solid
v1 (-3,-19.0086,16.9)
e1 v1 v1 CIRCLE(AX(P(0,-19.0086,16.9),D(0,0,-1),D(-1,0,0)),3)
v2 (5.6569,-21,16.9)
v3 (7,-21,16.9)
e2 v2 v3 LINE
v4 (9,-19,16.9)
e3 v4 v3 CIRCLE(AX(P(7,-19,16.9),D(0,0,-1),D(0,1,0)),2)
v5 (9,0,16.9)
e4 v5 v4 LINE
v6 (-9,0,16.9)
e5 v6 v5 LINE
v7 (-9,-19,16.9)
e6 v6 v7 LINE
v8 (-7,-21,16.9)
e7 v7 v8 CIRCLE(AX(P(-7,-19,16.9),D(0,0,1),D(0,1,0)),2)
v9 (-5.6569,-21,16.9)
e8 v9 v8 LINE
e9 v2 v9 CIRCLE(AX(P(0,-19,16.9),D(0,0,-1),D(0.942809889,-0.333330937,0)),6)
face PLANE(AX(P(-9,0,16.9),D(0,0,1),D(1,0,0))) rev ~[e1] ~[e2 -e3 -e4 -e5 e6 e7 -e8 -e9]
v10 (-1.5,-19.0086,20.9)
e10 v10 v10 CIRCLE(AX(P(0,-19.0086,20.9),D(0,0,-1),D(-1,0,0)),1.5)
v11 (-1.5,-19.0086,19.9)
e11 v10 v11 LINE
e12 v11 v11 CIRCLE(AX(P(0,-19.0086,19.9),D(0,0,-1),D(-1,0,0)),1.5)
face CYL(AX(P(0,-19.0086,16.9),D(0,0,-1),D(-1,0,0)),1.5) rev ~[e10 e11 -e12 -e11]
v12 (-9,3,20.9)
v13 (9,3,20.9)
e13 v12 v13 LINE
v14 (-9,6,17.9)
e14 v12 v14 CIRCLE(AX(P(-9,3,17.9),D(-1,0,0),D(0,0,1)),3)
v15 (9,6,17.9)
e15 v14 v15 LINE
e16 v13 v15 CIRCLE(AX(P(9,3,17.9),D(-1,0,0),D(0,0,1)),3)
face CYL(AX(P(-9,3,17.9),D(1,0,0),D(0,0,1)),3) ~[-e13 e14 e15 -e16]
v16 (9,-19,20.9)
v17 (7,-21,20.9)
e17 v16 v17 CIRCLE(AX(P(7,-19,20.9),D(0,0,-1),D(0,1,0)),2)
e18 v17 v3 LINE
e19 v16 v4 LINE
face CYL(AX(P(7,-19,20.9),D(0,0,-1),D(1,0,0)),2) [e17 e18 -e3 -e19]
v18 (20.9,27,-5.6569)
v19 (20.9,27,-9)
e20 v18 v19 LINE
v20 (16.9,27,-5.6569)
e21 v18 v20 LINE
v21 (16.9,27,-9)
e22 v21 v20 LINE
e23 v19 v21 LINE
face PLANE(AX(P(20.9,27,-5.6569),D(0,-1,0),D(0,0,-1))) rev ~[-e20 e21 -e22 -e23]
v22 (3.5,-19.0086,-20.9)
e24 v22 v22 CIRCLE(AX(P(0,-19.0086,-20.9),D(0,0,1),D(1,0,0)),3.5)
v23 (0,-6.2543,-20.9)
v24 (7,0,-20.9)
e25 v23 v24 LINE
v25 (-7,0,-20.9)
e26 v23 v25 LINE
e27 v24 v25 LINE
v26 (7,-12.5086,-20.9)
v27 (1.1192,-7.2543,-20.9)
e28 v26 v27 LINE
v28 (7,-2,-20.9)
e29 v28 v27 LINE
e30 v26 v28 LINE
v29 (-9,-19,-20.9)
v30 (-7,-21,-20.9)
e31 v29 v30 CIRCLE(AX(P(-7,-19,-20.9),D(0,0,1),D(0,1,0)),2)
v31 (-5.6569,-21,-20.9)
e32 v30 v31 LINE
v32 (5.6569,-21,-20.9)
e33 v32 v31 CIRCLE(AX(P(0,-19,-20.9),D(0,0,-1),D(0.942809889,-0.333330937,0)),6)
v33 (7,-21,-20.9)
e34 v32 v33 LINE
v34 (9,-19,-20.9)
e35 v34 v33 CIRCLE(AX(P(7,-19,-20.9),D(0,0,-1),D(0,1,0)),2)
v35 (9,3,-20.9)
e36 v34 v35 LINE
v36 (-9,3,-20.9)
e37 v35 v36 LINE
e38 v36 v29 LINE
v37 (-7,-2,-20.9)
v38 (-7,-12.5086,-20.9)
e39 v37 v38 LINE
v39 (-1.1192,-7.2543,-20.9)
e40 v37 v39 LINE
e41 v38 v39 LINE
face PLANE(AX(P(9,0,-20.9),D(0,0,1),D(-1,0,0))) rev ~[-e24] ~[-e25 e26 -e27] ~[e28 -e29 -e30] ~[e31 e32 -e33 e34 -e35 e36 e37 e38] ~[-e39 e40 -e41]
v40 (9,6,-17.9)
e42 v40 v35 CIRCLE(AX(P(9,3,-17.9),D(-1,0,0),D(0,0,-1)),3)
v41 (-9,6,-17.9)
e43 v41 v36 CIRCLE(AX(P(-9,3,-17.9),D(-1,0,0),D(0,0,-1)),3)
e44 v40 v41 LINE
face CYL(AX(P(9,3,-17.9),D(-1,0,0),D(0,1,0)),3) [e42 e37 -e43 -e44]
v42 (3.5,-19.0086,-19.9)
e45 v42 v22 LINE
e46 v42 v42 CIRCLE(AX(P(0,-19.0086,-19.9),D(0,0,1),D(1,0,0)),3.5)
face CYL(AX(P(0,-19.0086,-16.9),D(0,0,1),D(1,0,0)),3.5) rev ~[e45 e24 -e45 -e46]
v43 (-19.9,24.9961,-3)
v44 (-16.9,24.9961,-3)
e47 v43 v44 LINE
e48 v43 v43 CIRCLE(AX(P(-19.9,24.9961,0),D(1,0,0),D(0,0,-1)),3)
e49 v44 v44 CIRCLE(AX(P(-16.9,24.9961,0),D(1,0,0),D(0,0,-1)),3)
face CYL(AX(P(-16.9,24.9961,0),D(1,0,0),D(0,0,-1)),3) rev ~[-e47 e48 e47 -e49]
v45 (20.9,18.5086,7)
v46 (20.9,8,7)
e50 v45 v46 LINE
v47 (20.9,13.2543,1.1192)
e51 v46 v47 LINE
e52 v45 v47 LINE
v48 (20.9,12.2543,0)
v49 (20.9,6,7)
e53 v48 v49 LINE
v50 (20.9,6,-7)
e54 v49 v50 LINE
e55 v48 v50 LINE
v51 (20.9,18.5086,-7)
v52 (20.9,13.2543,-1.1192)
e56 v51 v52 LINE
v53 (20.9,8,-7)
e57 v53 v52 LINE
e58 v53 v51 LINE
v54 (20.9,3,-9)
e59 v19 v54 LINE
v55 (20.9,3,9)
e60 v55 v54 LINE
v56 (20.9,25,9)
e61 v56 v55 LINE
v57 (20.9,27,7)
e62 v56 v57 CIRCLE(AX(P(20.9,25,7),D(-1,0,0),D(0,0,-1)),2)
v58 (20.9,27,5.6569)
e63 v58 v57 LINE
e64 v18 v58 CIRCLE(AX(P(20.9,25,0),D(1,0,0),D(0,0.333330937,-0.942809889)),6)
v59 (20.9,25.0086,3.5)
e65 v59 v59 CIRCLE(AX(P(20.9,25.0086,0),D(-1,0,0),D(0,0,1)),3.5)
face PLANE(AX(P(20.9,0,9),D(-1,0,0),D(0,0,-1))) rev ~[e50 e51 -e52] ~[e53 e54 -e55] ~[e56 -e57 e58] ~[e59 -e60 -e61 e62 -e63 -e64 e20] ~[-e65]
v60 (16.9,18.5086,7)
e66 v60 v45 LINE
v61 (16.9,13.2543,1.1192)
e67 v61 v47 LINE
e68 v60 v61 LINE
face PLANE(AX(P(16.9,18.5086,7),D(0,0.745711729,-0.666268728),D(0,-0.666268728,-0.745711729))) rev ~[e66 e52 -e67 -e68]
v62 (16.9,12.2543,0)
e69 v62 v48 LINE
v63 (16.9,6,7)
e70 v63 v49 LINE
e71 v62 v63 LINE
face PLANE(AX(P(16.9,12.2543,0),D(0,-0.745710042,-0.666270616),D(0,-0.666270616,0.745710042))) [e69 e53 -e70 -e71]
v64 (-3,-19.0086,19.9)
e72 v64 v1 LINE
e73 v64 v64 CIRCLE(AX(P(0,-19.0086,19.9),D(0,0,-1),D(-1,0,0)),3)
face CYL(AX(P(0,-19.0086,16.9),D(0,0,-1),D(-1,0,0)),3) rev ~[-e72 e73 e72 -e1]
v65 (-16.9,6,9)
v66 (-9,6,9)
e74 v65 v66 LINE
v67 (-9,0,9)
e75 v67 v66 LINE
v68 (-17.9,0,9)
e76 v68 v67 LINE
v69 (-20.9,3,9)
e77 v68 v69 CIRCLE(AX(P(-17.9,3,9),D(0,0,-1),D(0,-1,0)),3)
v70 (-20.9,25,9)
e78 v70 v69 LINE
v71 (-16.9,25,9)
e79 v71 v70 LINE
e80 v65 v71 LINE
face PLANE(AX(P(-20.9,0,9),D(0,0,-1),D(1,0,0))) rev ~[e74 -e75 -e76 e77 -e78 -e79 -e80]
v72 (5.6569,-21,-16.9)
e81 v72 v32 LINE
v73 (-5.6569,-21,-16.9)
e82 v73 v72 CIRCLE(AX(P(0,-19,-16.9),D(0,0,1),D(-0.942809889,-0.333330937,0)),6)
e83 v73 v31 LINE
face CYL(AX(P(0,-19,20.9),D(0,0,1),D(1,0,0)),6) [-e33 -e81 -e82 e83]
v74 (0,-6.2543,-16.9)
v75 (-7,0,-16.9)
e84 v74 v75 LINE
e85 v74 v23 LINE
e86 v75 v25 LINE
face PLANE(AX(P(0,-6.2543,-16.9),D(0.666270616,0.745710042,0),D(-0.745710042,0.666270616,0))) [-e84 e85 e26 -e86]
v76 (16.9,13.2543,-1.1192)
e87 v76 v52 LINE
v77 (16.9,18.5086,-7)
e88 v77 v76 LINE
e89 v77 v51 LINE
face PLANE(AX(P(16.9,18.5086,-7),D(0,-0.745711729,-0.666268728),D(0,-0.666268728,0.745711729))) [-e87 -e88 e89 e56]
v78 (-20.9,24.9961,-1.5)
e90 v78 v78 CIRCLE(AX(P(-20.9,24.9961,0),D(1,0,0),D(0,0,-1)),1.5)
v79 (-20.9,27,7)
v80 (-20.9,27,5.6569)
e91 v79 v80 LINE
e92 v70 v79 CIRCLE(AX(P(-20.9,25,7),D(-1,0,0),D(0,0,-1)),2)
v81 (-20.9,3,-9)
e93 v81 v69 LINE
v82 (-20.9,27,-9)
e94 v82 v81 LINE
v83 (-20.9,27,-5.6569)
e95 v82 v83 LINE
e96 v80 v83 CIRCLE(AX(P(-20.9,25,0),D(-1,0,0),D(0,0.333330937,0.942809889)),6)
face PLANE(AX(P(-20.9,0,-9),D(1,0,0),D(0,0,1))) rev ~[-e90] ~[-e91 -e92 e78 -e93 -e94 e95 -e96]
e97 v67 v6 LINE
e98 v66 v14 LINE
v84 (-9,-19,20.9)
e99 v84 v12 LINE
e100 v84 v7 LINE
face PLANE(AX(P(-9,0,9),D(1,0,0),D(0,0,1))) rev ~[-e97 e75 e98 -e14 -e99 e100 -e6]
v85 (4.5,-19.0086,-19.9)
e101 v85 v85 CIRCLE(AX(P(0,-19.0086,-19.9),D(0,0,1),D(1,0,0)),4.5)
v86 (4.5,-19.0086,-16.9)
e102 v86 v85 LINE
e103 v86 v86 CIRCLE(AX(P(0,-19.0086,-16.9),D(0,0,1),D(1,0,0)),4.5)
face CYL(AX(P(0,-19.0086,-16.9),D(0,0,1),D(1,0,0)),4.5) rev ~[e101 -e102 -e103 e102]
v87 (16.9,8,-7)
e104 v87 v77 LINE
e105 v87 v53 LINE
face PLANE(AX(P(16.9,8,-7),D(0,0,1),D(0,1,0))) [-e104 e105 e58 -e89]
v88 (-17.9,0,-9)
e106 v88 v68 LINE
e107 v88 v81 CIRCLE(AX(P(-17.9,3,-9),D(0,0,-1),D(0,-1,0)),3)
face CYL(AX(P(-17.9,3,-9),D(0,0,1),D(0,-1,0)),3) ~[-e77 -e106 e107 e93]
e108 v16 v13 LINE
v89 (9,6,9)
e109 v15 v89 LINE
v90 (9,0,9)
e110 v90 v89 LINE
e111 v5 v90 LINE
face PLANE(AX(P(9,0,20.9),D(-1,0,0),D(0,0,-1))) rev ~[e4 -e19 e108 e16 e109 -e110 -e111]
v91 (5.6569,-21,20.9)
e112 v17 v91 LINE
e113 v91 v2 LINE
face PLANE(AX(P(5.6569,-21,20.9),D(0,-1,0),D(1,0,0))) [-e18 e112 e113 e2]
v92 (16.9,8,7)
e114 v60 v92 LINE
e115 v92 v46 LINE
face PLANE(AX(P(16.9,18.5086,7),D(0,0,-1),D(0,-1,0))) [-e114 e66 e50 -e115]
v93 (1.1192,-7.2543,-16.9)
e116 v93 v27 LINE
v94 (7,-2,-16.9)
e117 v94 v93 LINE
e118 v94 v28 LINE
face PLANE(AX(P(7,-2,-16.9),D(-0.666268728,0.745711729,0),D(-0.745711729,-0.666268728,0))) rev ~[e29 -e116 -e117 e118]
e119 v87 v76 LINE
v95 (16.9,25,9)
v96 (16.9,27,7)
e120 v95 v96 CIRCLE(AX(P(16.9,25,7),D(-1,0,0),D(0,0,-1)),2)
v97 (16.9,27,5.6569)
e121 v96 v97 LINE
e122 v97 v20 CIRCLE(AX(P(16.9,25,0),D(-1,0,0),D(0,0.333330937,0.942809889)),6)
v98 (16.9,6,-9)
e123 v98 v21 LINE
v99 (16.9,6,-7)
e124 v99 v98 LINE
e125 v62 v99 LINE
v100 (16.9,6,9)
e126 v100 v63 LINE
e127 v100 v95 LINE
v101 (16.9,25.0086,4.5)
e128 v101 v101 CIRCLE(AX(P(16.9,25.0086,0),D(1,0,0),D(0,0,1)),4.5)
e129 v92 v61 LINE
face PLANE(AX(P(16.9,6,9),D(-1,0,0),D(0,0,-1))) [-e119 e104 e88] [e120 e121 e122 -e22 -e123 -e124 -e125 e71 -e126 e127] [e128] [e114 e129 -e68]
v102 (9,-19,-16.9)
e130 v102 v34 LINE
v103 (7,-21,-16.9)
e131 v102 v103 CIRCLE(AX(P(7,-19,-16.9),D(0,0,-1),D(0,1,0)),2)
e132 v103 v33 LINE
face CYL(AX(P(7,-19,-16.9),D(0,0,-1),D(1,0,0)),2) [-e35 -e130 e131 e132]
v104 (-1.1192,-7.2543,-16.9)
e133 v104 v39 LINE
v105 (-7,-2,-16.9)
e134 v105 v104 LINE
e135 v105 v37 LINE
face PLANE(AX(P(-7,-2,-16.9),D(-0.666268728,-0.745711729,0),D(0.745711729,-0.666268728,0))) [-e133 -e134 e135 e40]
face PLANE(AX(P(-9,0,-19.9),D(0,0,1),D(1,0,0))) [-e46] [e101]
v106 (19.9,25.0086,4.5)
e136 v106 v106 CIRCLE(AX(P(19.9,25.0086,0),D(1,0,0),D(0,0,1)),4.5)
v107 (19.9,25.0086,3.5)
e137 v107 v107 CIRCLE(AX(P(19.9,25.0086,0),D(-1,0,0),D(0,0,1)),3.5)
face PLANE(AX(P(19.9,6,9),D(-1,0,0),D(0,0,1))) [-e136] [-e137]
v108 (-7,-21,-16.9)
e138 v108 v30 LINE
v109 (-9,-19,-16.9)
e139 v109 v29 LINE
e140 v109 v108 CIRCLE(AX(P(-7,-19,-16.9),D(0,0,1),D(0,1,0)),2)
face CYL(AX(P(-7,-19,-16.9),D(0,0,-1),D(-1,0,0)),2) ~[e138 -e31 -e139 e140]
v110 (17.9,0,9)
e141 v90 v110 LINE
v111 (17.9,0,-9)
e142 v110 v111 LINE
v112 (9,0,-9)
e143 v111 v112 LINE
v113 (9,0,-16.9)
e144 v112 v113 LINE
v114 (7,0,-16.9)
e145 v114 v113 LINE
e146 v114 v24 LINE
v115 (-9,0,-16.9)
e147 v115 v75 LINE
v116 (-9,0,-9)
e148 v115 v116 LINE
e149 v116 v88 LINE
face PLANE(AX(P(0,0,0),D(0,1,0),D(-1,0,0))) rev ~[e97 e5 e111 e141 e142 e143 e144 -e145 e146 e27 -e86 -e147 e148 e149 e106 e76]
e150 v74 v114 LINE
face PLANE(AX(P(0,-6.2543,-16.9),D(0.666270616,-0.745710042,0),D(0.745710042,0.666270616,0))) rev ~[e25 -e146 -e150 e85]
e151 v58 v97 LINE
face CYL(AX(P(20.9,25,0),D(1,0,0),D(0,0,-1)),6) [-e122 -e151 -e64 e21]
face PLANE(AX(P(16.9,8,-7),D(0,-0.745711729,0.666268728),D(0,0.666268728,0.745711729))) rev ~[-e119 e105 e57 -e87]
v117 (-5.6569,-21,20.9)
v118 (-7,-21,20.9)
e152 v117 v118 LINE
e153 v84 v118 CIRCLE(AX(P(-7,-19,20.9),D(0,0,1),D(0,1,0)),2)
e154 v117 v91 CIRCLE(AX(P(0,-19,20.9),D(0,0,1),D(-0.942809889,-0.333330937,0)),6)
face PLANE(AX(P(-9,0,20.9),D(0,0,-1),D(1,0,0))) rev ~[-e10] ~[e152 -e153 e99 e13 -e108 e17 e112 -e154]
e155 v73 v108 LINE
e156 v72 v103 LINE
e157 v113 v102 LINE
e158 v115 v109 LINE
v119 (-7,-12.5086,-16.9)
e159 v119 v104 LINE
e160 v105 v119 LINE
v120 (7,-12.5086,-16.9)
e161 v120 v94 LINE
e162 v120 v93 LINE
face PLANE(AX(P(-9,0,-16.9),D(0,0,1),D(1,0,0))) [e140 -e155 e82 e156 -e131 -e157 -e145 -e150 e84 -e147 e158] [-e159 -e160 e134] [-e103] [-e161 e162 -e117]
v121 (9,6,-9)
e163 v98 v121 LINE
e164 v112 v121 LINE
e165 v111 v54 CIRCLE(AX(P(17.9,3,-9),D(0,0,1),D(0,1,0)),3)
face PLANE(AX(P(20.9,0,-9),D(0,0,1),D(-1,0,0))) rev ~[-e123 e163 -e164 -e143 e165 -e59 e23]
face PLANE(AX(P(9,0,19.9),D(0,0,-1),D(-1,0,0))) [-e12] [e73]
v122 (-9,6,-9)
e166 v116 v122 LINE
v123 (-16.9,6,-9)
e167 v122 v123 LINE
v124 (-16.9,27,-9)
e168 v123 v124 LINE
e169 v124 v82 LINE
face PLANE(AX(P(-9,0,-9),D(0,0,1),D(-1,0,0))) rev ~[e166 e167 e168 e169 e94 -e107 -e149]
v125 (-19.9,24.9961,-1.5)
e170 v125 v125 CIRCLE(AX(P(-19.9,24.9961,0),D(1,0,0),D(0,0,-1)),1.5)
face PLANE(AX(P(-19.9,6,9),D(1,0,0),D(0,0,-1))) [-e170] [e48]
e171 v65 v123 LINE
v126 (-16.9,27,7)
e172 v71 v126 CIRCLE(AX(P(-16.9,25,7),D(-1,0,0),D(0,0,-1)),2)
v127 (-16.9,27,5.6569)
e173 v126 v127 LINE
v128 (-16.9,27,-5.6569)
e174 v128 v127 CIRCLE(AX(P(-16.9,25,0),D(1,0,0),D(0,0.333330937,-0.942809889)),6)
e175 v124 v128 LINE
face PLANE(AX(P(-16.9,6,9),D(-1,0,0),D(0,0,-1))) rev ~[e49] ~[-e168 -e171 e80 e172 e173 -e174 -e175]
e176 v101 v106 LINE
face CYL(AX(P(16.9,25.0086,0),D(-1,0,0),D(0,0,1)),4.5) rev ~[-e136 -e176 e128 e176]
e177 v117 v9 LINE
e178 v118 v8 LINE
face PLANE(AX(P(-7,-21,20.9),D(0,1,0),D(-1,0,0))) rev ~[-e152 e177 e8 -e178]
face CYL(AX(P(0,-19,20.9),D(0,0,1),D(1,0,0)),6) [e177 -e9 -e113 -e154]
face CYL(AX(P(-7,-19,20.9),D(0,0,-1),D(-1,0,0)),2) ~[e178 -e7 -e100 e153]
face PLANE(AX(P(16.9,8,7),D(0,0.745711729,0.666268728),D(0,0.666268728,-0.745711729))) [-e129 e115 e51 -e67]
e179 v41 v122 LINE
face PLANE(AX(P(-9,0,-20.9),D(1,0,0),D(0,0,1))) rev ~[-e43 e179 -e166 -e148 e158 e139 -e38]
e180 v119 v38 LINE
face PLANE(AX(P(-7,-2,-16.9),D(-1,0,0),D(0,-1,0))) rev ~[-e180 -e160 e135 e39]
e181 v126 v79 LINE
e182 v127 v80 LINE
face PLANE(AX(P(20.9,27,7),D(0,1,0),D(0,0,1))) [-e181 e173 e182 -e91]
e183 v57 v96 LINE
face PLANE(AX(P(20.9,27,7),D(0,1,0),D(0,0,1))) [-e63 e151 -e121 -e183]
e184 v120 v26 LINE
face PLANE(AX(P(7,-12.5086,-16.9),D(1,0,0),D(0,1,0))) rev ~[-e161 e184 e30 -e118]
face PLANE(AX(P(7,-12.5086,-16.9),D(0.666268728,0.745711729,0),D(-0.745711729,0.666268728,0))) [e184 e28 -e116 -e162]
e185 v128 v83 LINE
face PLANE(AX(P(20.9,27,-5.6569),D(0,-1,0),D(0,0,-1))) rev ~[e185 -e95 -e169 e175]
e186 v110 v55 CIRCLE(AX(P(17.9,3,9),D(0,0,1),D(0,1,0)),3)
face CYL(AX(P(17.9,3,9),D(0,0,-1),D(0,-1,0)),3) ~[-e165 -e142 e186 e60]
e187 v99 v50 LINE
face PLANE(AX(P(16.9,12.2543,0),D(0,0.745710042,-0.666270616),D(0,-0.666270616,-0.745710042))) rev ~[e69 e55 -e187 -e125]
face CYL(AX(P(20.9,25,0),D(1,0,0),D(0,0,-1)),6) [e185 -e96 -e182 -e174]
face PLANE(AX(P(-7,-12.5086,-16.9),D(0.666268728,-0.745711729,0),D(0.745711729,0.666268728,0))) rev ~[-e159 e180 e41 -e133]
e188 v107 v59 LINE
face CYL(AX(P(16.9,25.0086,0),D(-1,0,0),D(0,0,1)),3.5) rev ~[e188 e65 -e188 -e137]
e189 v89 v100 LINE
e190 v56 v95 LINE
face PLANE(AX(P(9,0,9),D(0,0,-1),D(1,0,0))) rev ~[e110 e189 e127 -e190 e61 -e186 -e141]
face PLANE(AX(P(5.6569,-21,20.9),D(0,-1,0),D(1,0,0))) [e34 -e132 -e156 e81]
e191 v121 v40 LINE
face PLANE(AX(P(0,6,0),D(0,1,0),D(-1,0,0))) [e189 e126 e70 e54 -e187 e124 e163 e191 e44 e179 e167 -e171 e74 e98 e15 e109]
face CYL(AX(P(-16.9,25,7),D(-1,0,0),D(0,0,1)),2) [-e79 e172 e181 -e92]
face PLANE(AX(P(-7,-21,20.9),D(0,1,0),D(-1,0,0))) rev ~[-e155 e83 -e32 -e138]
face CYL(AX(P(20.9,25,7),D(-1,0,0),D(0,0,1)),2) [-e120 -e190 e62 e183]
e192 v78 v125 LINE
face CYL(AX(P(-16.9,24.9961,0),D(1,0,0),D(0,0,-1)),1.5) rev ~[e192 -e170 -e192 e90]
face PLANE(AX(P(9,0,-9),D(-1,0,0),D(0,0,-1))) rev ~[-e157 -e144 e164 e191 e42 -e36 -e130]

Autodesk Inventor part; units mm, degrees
ref_plane "YZ Plane" through (0, 0, 0) normal (1, 0, 0) x (0, 1, 0)
ref_plane "XZ Plane" through (0, 0, 0) normal (0, 1, 0) x (-1, 0, 0)
ref_plane "XY Plane" through (0, 0, 0) normal (0, 0, 1) x (1, 0, 0)
sketch "スケッチ1" plane through (0, 0, 0) normal (0, 1, 0) x (-1, 0, 0)
  line L0 (9, 20.9) -> (-9, 20.9)
  line L1 (-9, -20.9) -> (9, -20.9)
  line L2 (9, 20.9) -> (-9, -20.9) construction
  line L3 (-9, 20.9) -> (9, -20.9) construction
  line L4 (-20.9, 9) -> (-20.9, -9)
  line L5 (20.9, -9) -> (20.9, 9)
  line L6 (20.9, 9) -> (-20.9, -9) construction
  line L7 (-20.9, 9) -> (20.9, -9) construction
  line L8 (20.9, 9) -> (9, 9)
  line L9 (-9, 9) -> (-20.9, 9)
  line L10 (9, 9) -> (9, 20.9)
  line L11 (-9, 20.9) -> (-9, 9)
  line L12 (-9, -9) -> (-9, -20.9)
  line L13 (-20.9, -9) -> (-9, -9)
  line L14 (9, -9) -> (20.9, -9)
  line L15 (9, -20.9) -> (9, -9)
  point P0 (0, 0)
  dimension "d0" = 18
  dimension "d1" = 41.8
  dimension "d2" = 41.8
  dimension "d3" = 18
extrude "押し出し1" add sketch "スケッチ1" along normal blind 6
sketch "スケッチ2" plane through (0, 6, 0) normal (0, 1, 0) x (1, 0, 0)
  line L0 (-20.9, -9) -> (-9, -9) projected
  line L1 (-9, 9) -> (-20.9, 9) projected
  line L2 (-20.9, -9) -> (-16.9, -9)
  line L3 (-16.9, -9) -> (-16.9, 9)
  line L4 (-16.9, 9) -> (-20.9, 9)
  line L5 (-20.9, 9) -> (-20.9, -9)
  line L6 (20.9, -9) -> (20.9, 9) projected
  line L7 (20.9, 9) -> (9, 9) projected
  line L8 (20.9, -9) -> (16.9, -9)
  line L9 (16.9, -9) -> (16.9, 9)
  line L10 (16.9, 9) -> (20.9, 9)
  line L11 (20.9, 9) -> (20.9, -9)
  point P0 (0, 0)
  dimension "d6" = 4
  dimension "d7" = 4
extrude "押し出し2" add sketch "スケッチ2" along normal blind 25
sketch "スケッチ3" plane through (0, 0, 0) normal (0, -1, 0) x (1, 0, 0)
  line L0 (-9, 20.9) -> (9, 20.9) projected
  line L1 (-9, 9) -> (-9, 20.9) projected
  line L2 (9, 20.9) -> (-9, 20.9)
  line L3 (-9, 20.9) -> (-9, 16.9)
  line L4 (-9, 16.9) -> (9, 16.9)
  line L5 (9, 16.9) -> (9, 20.9)
  line L6 (9, -9) -> (9, -20.9) projected
  line L7 (-9, -20.9) -> (-9, -9) projected
  line L8 (9, -20.9) -> (-9, -20.9)
  line L9 (-9, -20.9) -> (-9, -16.9)
  line L10 (-9, -16.9) -> (9, -16.9)
  line L11 (9, -16.9) -> (9, -20.9)
  point P0 (0, 0)
  dimension "d10" = 4
  dimension "d11" = 4
extrude "押し出し3" add sketch "スケッチ3" along normal blind 25
sketch "スケッチ4" plane through (20.9, 0, 9) normal (1, 0, 0) x (0, 0, -1)
  line L0 (9, 0) -> (9, 25) construction
  line L1 (9, 25) -> (15, 25) construction
  line L2 (9, 25) -> (0, 25) construction
  line L3 (0, 6) -> (0, 31) construction
  line L4 (0, 25) -> (2, 25) construction
  line L5 (9, 25) -> (18, 25) construction
  line L6 (18, 0) -> (18, 31) construction
  line L7 (18, 25) -> (16, 25) construction
  line L8 (2, 25) -> (0, 25) construction
  line L9 (18, 31) -> (0, 31) construction
  line L10 (9, 25) -> (9, 31) construction
  line L11 (0, 31) -> (18, 31) construction
  line L12 (0, 6) -> (0, 31) construction
  line L13 (0, 25) -> (0, 31) construction
  line L14 (18, 31) -> (0, 31) construction
  line L15 (0, 31) -> (18, 31) construction
  line L16 (18, 31) -> (18, 25) construction
  line L17 (0, 0) -> (0, 31) projected
  line L18 (0, 25) -> (0, 31)
  line L19 (0, 31) -> (18, 31)
  line L20 (18, 25) -> (18, 31)
  circle A0 centre (9, 25) radius 6
  line L21 (2, 27) -> (0, 27)
  line L22 (16, 27) -> (18, 27)
  line L23 (18, 6) -> (18, 31) projected
  line L24 (2, 27) -> (3.3431, 27)
  line L25 (14.6569, 27) -> (16, 27)
  circle A1 centre (9, 25) radius 1.5
  circle A2 centre (9, 25) radius 3
  dimension "d14" = 25
  dimension "d20" = 2
  dimension "d21" = 2
  dimension "d22" = 6
  dimension "d24" = 12
  dimension "d35" = 3
  dimension "d36" = 6
extrude "押し出し4" cut sketch "スケッチ4" against normal blind 41.8 contours L17 L19 A0 L24 L21 | L19 L20 L22 L25 A0
sketch "スケッチ5" plane through (-9, 6, 20.9) normal (0, 0, 1) x (1, 0, 0)
  line L0 (18, -31) -> (18, 0) projected
  line L1 (0, 0) -> (18, 0) projected
  line L2 (18, 0) -> (0, 0)
  line L3 (9, 0) -> (9, -25) construction
  line L4 (9, -25) -> (15, -25) construction
  line L5 (9, -25) -> (0, -25) construction
  line L6 (0, -6) -> (0, -31) construction
  line L7 (0, -25) -> (2, -25) construction
  line L8 (9, -25) -> (18, -25) construction
  line L9 (18, 0) -> (18, -31) construction
  line L10 (18, -25) -> (16, -25) construction
  line L11 (2, -25) -> (0, -25) construction
  line L12 (18, -31) -> (0, -31) construction
  line L13 (9, -25) -> (9, -31) construction
  line L14 (0, -31) -> (18, -31) construction
  line L15 (0, -6) -> (0, -31) construction
  line L16 (0, -25) -> (0, -31) construction
  line L17 (18, -31) -> (0, -31) construction
  line L18 (0, -31) -> (18, -31) construction
  line L19 (18, -31) -> (18, -25) construction
  line L20 (0, 0) -> (0, -31)
  line L21 (0, -25) -> (0, -31)
  line L22 (0, -31) -> (18, -31)
  line L23 (18, -25) -> (18, -31)
  circle A0 centre (9, -25) radius 6
  line L24 (2, -27) -> (0, -27)
  line L25 (16, -27) -> (18, -27)
  line L26 (18, -6) -> (18, -31)
  line L27 (2, -27) -> (3.3431, -27)
  line L28 (14.6569, -27) -> (16, -27)
  point P0 (9, -6)
extrude "押し出し5" cut sketch "スケッチ5" against normal blind 41.8 contours L22 A0 L28 L25 L0 | L22 L20 L24 L27 A0
sketch "スケッチ6" plane through (-16.9, 6, 9) normal (1, 0, 0) x (0, 0, -1)
  line L0 (9, -0.0039) -> (9, 18.9961) construction
  line L1 (9, 18.9961) -> (15, 18.9961) construction
  line L2 (9, 18.9961) -> (0, 18.9961) construction
  line L3 (0, -0.0039) -> (0, 24.9961) construction
  line L4 (0, 18.9961) -> (2, 18.9961) construction
  line L5 (9, 18.9961) -> (18, 18.9961) construction
  line L6 (18, 18.9961) -> (18, 24.9961) construction
  line L7 (18, 18.9961) -> (16, 18.9961) construction
  line L8 (2, 18.9961) -> (0, 18.9961) construction
  line L9 (18, 24.9961) -> (0, 24.9961) construction
  line L10 (9, 18.9961) -> (9, 24.9961) construction
  line L11 (0, 24.9961) -> (18, 24.9961) construction
  line L12 (0, -0.0039) -> (0, 24.9961) construction
  line L13 (0, 18.9961) -> (0, 24.9961) construction
  line L14 (18, 24.9961) -> (0, 24.9961) construction
  line L15 (0, 24.9961) -> (18, 24.9961) construction
  line L16 (18, 24.9961) -> (18, 18.9961) construction
  line L17 (0, 18.9961) -> (0, 24.9961)
  line L18 (0, 18.9961) -> (0, 24.9961)
  line L19 (0, 24.9961) -> (18, 24.9961)
  line L20 (18, 18.9961) -> (18, 24.9961)
  circle A0 centre (9, 18.9961) radius 6
  line L21 (2, 20.9961) -> (0, 20.9961)
  line L22 (16, 20.9961) -> (18, 20.9961)
  line L23 (18, -0.0039) -> (18, 24.9961)
  line L24 (2, 20.9961) -> (3.3431, 20.9961)
  line L25 (14.6569, 20.9961) -> (16, 20.9961)
  circle A1 centre (9, 18.9961) radius 1.5
  circle A2 centre (9, 18.9961) radius 3
  point P0 (9, -6)
  dimension "d37" = 19
  dimension "d38" = 2
  dimension "d39" = 2
  dimension "d40" = 6
  dimension "d41" = 12
  dimension "d42" = 3
  dimension "d43" = 6
extrude "押し出し6" cut sketch "スケッチ6" against normal blind 4 and the other way blind 4 contours A1
sketch "スケッチ7" plane through (-16.9, 6, 9) normal (1, 0, 0) x (0, 0, -1)
  line L0 (9, -0.0039) -> (9, 18.9961) construction
  line L1 (9, 18.9961) -> (15, 18.9961) construction
  line L2 (9, 18.9961) -> (0, 18.9961) construction
  line L3 (0, -0.0039) -> (0, 24.9961) construction
  line L4 (0, 18.9961) -> (2, 18.9961) construction
  line L5 (9, 18.9961) -> (18, 18.9961) construction
  line L6 (18, 18.9961) -> (18, 24.9961) construction
  line L7 (18, 18.9961) -> (16, 18.9961) construction
  line L8 (2, 18.9961) -> (0, 18.9961) construction
  line L9 (18, 24.9961) -> (0, 24.9961) construction
  line L10 (9, 18.9961) -> (9, 24.9961) construction
  line L11 (0, 24.9961) -> (18, 24.9961) construction
  line L12 (0, -0.0039) -> (0, 24.9961) construction
  line L13 (0, 18.9961) -> (0, 24.9961) construction
  line L14 (18, 24.9961) -> (0, 24.9961) construction
  line L15 (0, 24.9961) -> (18, 24.9961) construction
  line L16 (18, 24.9961) -> (18, 18.9961) construction
  line L17 (0, 18.9961) -> (0, 24.9961)
  line L18 (0, 18.9961) -> (0, 24.9961)
  line L19 (0, 24.9961) -> (18, 24.9961)
  line L20 (18, 18.9961) -> (18, 24.9961)
  circle A0 centre (9, 18.9961) radius 6
  line L21 (2, 20.9961) -> (0, 20.9961)
  line L22 (16, 20.9961) -> (18, 20.9961)
  line L23 (18, -0.0039) -> (18, 24.9961)
  line L24 (2, 20.9961) -> (3.3431, 20.9961)
  line L25 (14.6569, 20.9961) -> (16, 20.9961)
  circle A1 centre (9, 18.9961) radius 1.5
  circle A2 centre (9, 18.9961) radius 3
  point P0 (9, -6)
  point P1 (9, -6)
  dimension "d48" = 19
  dimension "d49" = 2
  dimension "d50" = 2
  dimension "d51" = 6
  dimension "d52" = 12
  dimension "d53" = 3
  dimension "d54" = 6
extrude "押し出し7" cut sketch "スケッチ7" against normal blind 3 and the other way blind 3 contours A2
sketch "スケッチ8" plane through (9, 0, 16.9) normal (0, 0, -1) x (-1, 0, 0)
  line L0 (18, -25.0086) -> (18, -19.0086)
  line L1 (18, -25.0086) -> (18, -19.0086) construction
  line L2 (18, -19.0086) -> (18, -25.0086)
  line L3 (9, -19.0086) -> (15, -19.0086) construction
  line L4 (9, -19.0086) -> (18, -19.0086) construction
  line L5 (16, -21.0086) -> (18, -21.0086)
  line L6 (14.6569, -21.0086) -> (16, -21.0086)
  line L7 (9, -19.0086) -> (9, -25.0086) construction
  line L8 (2, -21.0086) -> (3.3431, -21.0086)
  line L9 (9, -19.0086) -> (0, -19.0086) construction
  line L10 (0, -19.0086) -> (0, -25.0086) construction
  line L11 (0, -19.0086) -> (0, -25.0086)
  circle A0 centre (9, -19.0086) radius 6
  line L12 (18, -19.0086) -> (18, -25.0086)
  line L13 (0, -19.0086) -> (0, -25.0086) construction
  line L14 (18, -19.0086) -> (18, -25.0086) construction
  line L15 (9, 0) -> (9, -25) construction
  line L16 (0, -19.0086) -> (0, -25.0086)
  line L17 (0, -0.0086) -> (0, -25.0086) construction
  line L18 (18, -25.0086) -> (0, -25.0086) construction
  line L19 (0, -25.0086) -> (18, -25.0086) construction
  line L20 (0, -25.0086) -> (18, -25.0086)
  line L21 (18, -25.0086) -> (0, -25.0086) construction
  line L22 (0, -25.0086) -> (18, -25.0086) construction
  line L23 (0, -19.0086) -> (2, -19.0086) construction
  line L24 (2, -19.0086) -> (0, -19.0086) construction
  line L25 (18, -19.0086) -> (16, -19.0086) construction
  line L26 (2, -21.0086) -> (0, -21.0086)
  circle A1 centre (9, -19.0086) radius 1.5
  circle A2 centre (9, -19.0086) radius 3
  point P0 (9, -0.0086)
  dimension "d59" = 3
  dimension "d60" = 6
extrude "押し出し8" cut sketch "スケッチ8" against normal blind 3 and the other way blind 3 contours A2
sketch "スケッチ9" plane through (9, 0, 16.9) normal (0, 0, -1) x (-1, 0, 0)
  line L0 (18, -25.0086) -> (18, -19.0086)
  line L1 (18, -25.0086) -> (18, -19.0086) construction
  line L2 (18, -19.0086) -> (18, -25.0086)
  line L3 (9, -19.0086) -> (15, -19.0086) construction
  line L4 (9, -19.0086) -> (18, -19.0086) construction
  line L5 (16, -21.0086) -> (18, -21.0086)
  line L6 (14.6569, -21.0086) -> (16, -21.0086)
  line L7 (9, -19.0086) -> (9, -25.0086) construction
  line L8 (2, -21.0086) -> (3.3431, -21.0086)
  line L9 (9, -19.0086) -> (0, -19.0086) construction
  line L10 (0, -19.0086) -> (0, -25.0086) construction
  line L11 (0, -19.0086) -> (0, -25.0086)
  circle A0 centre (9, -19.0086) radius 6
  line L12 (18, -19.0086) -> (18, -25.0086)
  line L13 (0, -19.0086) -> (0, -25.0086) construction
  line L14 (18, -19.0086) -> (18, -25.0086) construction
  line L15 (9, 0) -> (9, -25) construction
  line L16 (0, -19.0086) -> (0, -25.0086)
  line L17 (0, -0.0086) -> (0, -25.0086) construction
  line L18 (18, -25.0086) -> (0, -25.0086) construction
  line L19 (0, -25.0086) -> (18, -25.0086) construction
  line L20 (0, -25.0086) -> (18, -25.0086)
  line L21 (18, -25.0086) -> (0, -25.0086) construction
  line L22 (0, -25.0086) -> (18, -25.0086) construction
  line L23 (0, -19.0086) -> (2, -19.0086) construction
  line L24 (2, -19.0086) -> (0, -19.0086) construction
  line L25 (18, -19.0086) -> (16, -19.0086) construction
  line L26 (2, -21.0086) -> (0, -21.0086)
  circle A1 centre (9, -19.0086) radius 1.5
  circle A2 centre (9, -19.0086) radius 3
  point P0 (9, -0.0086)
  dimension "d65" = 3
  dimension "d66" = 6
extrude "押し出し9" cut sketch "スケッチ9" against normal blind 4 and the other way blind 37.8 contours A1
sketch "スケッチ10" plane through (-9, 0, -16.9) normal (0, 0, 1) x (1, 0, 0)
  line L0 (18, -25.0086) -> (18, -19.0086)
  line L1 (18, -25.0086) -> (18, -19.0086) construction
  line L2 (18, -19.0086) -> (18, -25.0086)
  line L3 (9, -19.0086) -> (15, -19.0086) construction
  line L4 (9, -19.0086) -> (18, -19.0086) construction
  line L5 (16, -21.0086) -> (18, -21.0086)
  line L6 (14.6569, -21.0086) -> (16, -21.0086)
  line L7 (9, -19.0086) -> (9, -25.0086) construction
  line L8 (2, -21.0086) -> (3.3431, -21.0086)
  line L9 (9, -19.0086) -> (0, -19.0086) construction
  line L10 (0, -19.0086) -> (0, -25.0086) construction
  line L11 (0, -19.0086) -> (0, -25.0086)
  circle A0 centre (9, -19.0086) radius 6
  line L12 (18, -19.0086) -> (18, -25.0086)
  line L13 (0, -19.0086) -> (0, -25.0086) construction
  line L14 (18, -19.0086) -> (18, -25.0086) construction
  line L15 (9, 0) -> (9, -25) construction
  line L16 (0, -19.0086) -> (0, -25.0086)
  line L17 (0, -0.0086) -> (0, -25.0086) construction
  line L18 (18, -25.0086) -> (0, -25.0086) construction
  line L19 (0, -25.0086) -> (18, -25.0086) construction
  line L20 (0, -25.0086) -> (18, -25.0086)
  line L21 (18, -25.0086) -> (0, -25.0086) construction
  line L22 (0, -25.0086) -> (18, -25.0086) construction
  line L23 (0, -19.0086) -> (2, -19.0086) construction
  line L24 (2, -19.0086) -> (0, -19.0086) construction
  line L25 (18, -19.0086) -> (16, -19.0086) construction
  line L26 (2, -21.0086) -> (0, -21.0086)
  circle A1 centre (9, -19.0086) radius 3.5
  circle A2 centre (9, -19.0086) radius 4.5
  point P0 (9, -0.0086)
  dimension "d71" = 7
  dimension "d72" = 9
extrude "押し出し10" cut sketch "スケッチ10" against normal blind 4 contours A1
sketch "スケッチ11" plane through (-9, 0, -16.9) normal (0, 0, 1) x (1, 0, 0)
  line L0 (18, -25.0086) -> (18, -19.0086)
  line L1 (18, -25.0086) -> (18, -19.0086) construction
  line L2 (18, -19.0086) -> (18, -25.0086)
  line L3 (9, -19.0086) -> (15, -19.0086) construction
  line L4 (9, -19.0086) -> (18, -19.0086) construction
  line L5 (16, -21.0086) -> (18, -21.0086)
  line L6 (14.6569, -21.0086) -> (16, -21.0086)
  line L7 (9, -19.0086) -> (9, -25.0086) construction
  line L8 (2, -21.0086) -> (3.3431, -21.0086)
  line L9 (9, -19.0086) -> (0, -19.0086) construction
  line L10 (0, -19.0086) -> (0, -25.0086) construction
  line L11 (0, -19.0086) -> (0, -25.0086)
  circle A0 centre (9, -19.0086) radius 6
  line L12 (18, -19.0086) -> (18, -25.0086)
  line L13 (0, -19.0086) -> (0, -25.0086) construction
  line L14 (18, -19.0086) -> (18, -25.0086) construction
  line L15 (9, 0) -> (9, -25) construction
  line L16 (0, -19.0086) -> (0, -25.0086)
  line L17 (0, -0.0086) -> (0, -25.0086) construction
  line L18 (18, -25.0086) -> (0, -25.0086) construction
  line L19 (0, -25.0086) -> (18, -25.0086) construction
  line L20 (0, -25.0086) -> (18, -25.0086)
  line L21 (18, -25.0086) -> (0, -25.0086) construction
  line L22 (0, -25.0086) -> (18, -25.0086) construction
  line L23 (0, -19.0086) -> (2, -19.0086) construction
  line L24 (2, -19.0086) -> (0, -19.0086) construction
  line L25 (18, -19.0086) -> (16, -19.0086) construction
  line L26 (2, -21.0086) -> (0, -21.0086)
  circle A1 centre (9, -19.0086) radius 3.5
  circle A2 centre (9, -19.0086) radius 4.5
  point P0 (9, -0.0086)
  dimension "d75" = 7
  dimension "d76" = 9
extrude "押し出し11" cut sketch "スケッチ11" against normal blind 3 contours A2
sketch "スケッチ12" plane through (-9, 0, -16.9) normal (0, 0, 1) x (1, 0, 0)
  line L0 (18, -25.0086) -> (18, -19.0086)
  line L1 (18, -25.0086) -> (18, -19.0086) construction
  line L2 (18, -19.0086) -> (18, -25.0086)
  line L3 (9, -19.0086) -> (15, -19.0086) construction
  line L4 (9, -19.0086) -> (18, -19.0086) construction
  line L5 (16, -21.0086) -> (18, -21.0086)
  line L6 (14.6569, -21.0086) -> (16, -21.0086)
  line L7 (9, -19.0086) -> (9, -25.0086) construction
  line L8 (2, -21.0086) -> (3.3431, -21.0086)
  line L9 (9, -19.0086) -> (0, -19.0086) construction
  line L10 (0, -19.0086) -> (0, -25.0086) construction
  line L11 (0, -19.0086) -> (0, -25.0086)
  circle A0 centre (9, -19.0086) radius 6
  line L12 (18, -19.0086) -> (18, -25.0086)
  line L13 (0, -19.0086) -> (0, -25.0086) construction
  line L14 (18, -19.0086) -> (18, -25.0086) construction
  line L15 (9, 0) -> (9, -25) construction
  line L16 (0, -19.0086) -> (0, -25.0086)
  line L17 (0, -0.0086) -> (0, -25.0086) construction
  line L18 (18, -25.0086) -> (0, -25.0086) construction
  line L19 (0, -25.0086) -> (18, -25.0086) construction
  line L20 (0, -25.0086) -> (18, -25.0086)
  line L21 (18, -25.0086) -> (0, -25.0086) construction
  line L22 (0, -25.0086) -> (18, -25.0086) construction
  line L23 (0, -19.0086) -> (2, -19.0086) construction
  line L24 (2, -19.0086) -> (0, -19.0086) construction
  line L25 (18, -19.0086) -> (16, -19.0086) construction
  line L26 (2, -21.0086) -> (0, -21.0086)
  circle A1 centre (9, -19.0086) radius 3.5
  circle A2 centre (9, -19.0086) radius 4.5
  line L27 (18, -19.0086) -> (16, -19.0086) construction
  line L28 (0, 0) -> (18, 0) construction
  line L29 (18, 0) -> (18, -21) construction
  line L30 (0, 0) -> (18, 0) construction
  line L31 (18, 0) -> (18, -14.5086) construction
  line L32 (0, -14.5086) -> (0, 0) construction
  line L33 (18, 0) -> (16, 0) construction
  line L34 (0, 0) -> (2, 0) construction
  line L35 (16, 0) -> (2, 0)
  line L36 (2, -2) -> (2, -12.5086)
  line L37 (16, -12.5086) -> (16, -2)
  line L38 (16, -12.5086) -> (10.1192, -7.2543)
  line L39 (9, -6.2543) -> (2, 0)
  line L40 (16, -2) -> (10.1192, -7.2543)
  line L41 (9, -8.2543) -> (2, -14.5086)
  line L42 (2, -12.5086) -> (7.8808, -7.2543)
  line L43 (9, -6.2543) -> (16, 0)
  line L44 (2, -2) -> (7.8808, -7.2543)
  line L45 (9, -8.2543) -> (16, -14.5086)
  line L46 (2, -14.5086) -> (9, -14.5086)
  line L47 (12.9686, -14.5086) -> (16, -14.5086)
  line L48 (18, -14.5086) -> (9, -14.5086) construction
  line L49 (5.0314, -14.5086) -> (0, -14.5086) construction
  point P0 (9, -0.0086)
  dimension "d80" = 9
  dimension "d79" = 7
  dimension "d81" = 2
  dimension "d83" = 2
extrude "押し出し12" cut sketch "スケッチ12" against normal blind 4 contours L43 L39 L35 | L44 L42 L36 | L38 L40 L37
sketch "スケッチ13" plane through (16.9, 6, -9) normal (-1, 0, 0) x (0, 0, 1)
  line L0 (0, 0) -> (18, 0) construction
  line L1 (0, 0) -> (18, 0) construction
  line L2 (18, 0) -> (16, 0) construction
  line L3 (0, 0) -> (2, 0) construction
  line L4 (16, 0) -> (2, 0)
  line L5 (18, 25.0086) -> (18, 19.0086)
  line L6 (18, 25.0086) -> (18, 19.0086) construction
  line L7 (18, 19.0086) -> (18, 25.0086)
  line L8 (9, 19.0086) -> (15, 19.0086) construction
  line L9 (9, 19.0086) -> (18, 19.0086) construction
  line L10 (16, 21.0086) -> (18, 21.0086)
  line L11 (14.6569, 21.0086) -> (16, 21.0086)
  line L12 (9, 19.0086) -> (9, 25.0086) construction
  line L13 (2, 21.0086) -> (3.3431, 21.0086)
  line L14 (9, 19.0086) -> (0, 19.0086) construction
  line L15 (0, 19.0086) -> (0, 25.0086) construction
  line L16 (0, 19.0086) -> (0, 25.0086)
  circle A0 centre (9, 19.0086) radius 6
  line L17 (18, 19.0086) -> (18, 25.0086)
  line L18 (0, 19.0086) -> (0, 25.0086) construction
  line L19 (18, 19.0086) -> (18, 25.0086) construction
  line L20 (9, 0) -> (9, 25) construction
  line L21 (0, 19.0086) -> (0, 25.0086)
  line L22 (0, 0.0086) -> (0, 25.0086) construction
  line L23 (18, 25.0086) -> (0, 25.0086) construction
  line L24 (0, 25.0086) -> (18, 25.0086) construction
  line L25 (0, 25.0086) -> (18, 25.0086)
  line L26 (18, 25.0086) -> (0, 25.0086) construction
  line L27 (0, 25.0086) -> (18, 25.0086) construction
  line L28 (0, 19.0086) -> (2, 19.0086) construction
  line L29 (2, 19.0086) -> (0, 19.0086) construction
  line L30 (18, 19.0086) -> (16, 19.0086) construction
  line L31 (2, 21.0086) -> (0, 21.0086)
  circle A1 centre (9, 19.0086) radius 3.5
  circle A2 centre (9, 19.0086) radius 4.5
  line L32 (18, 19.0086) -> (16, 19.0086) construction
  line L33 (18, 0) -> (18, 21) construction
  line L34 (18, 0) -> (18, 14.5086) construction
  line L35 (0, 14.5086) -> (0, 0) construction
  line L36 (2, 2) -> (2, 12.5086)
  line L37 (16, 12.5086) -> (16, 2)
  line L38 (16, 12.5086) -> (10.1192, 7.2543)
  line L39 (9, 6.2543) -> (2, 0)
  line L40 (16, 2) -> (10.1192, 7.2543)
  line L41 (9, 8.2543) -> (2, 14.5086)
  line L42 (2, 12.5086) -> (7.8808, 7.2543)
  line L43 (9, 6.2543) -> (16, 0)
  line L44 (2, 2) -> (7.8808, 7.2543)
  line L45 (9, 8.2543) -> (16, 14.5086)
  line L46 (2, 14.5086) -> (9, 14.5086)
  line L47 (12.9686, 14.5086) -> (16, 14.5086)
  line L48 (18, 14.5086) -> (9, 14.5086) construction
  line L49 (5.0314, 14.5086) -> (0, 14.5086) construction
  line L50 (18, 0) -> (18, -1.7869) construction
  line L51 (18, 0) -> (18, -1.7869) construction
  line L52 (18, -14.2956) -> (18, -14.5086) construction
  point P0 (9, -0.0086)
  point P1 (9, -25)
  point P2 (9, 6)
  point P3 (9, 0.0086)
  dimension "d93" = 2
extrude "押し出し13" cut sketch "スケッチ13" against normal blind 4 contours L4 L39 L43 | A1 | L36 L42 L44 | L37 L40 L38
sketch "スケッチ14" plane through (16.9, 6, 9) normal (-1, 0, 0) x (0, 0, 1)
  line L0 (18, -14.2956) -> (18, -14.5086) construction
  line L1 (0, 0) -> (-18, 0) construction
  line L2 (0, 0) -> (-18, 0) construction
  line L3 (-18, 0) -> (-16, 0) construction
  line L4 (0, 0) -> (-2, 0) construction
  line L5 (-16, 0) -> (-2, 0)
  line L6 (-18, 25.0086) -> (-18, 19.0086)
  line L7 (-14.6569, 21.0086) -> (-16, 21.0086)
  line L8 (-18, 25.0086) -> (-18, 19.0086) construction
  line L9 (-18, 19.0086) -> (-18, 25.0086)
  line L10 (-16, 21.0086) -> (-18, 21.0086)
  line L11 (-9, 19.0086) -> (-15, 19.0086) construction
  line L12 (-9, 19.0086) -> (-18, 19.0086) construction
  line L13 (-9, 19.0086) -> (-9, 25.0086) construction
  line L14 (0, 25.0086) -> (-18, 25.0086) construction
  line L15 (-18, 25.0086) -> (0, 25.0086) construction
  line L16 (0, 25.0086) -> (-18, 25.0086) construction
  line L17 (0, 25.0086) -> (-18, 25.0086)
  line L18 (-18, 25.0086) -> (0, 25.0086) construction
  circle A0 centre (-9, 19.0086) radius 3.5
  circle A1 centre (-9, 19.0086) radius 4.5
  line L19 (-9, 19.0086) -> (0, 19.0086) construction
  line L20 (-2, 21.0086) -> (-3.3431, 21.0086)
  line L21 (-2, 21.0086) -> (0, 21.0086)
  line L22 (-18, 19.0086) -> (-18, 25.0086) construction
  line L23 (-18, 19.0086) -> (-18, 25.0086)
  line L24 (-2, 19.0086) -> (0, 19.0086) construction
  line L25 (0, 19.0086) -> (-2, 19.0086) construction
  line L26 (-9, 6.2543) -> (-16, 0)
  line L27 (-16, 2) -> (-10.1192, 7.2543)
  line L28 (-16, 12.5086) -> (-10.1192, 7.2543)
  line L29 (-16, 12.5086) -> (-16, 2)
  line L30 (-12.9686, 14.5086) -> (-16, 14.5086)
  line L31 (-9, 8.2543) -> (-16, 14.5086)
  line L32 (-18, 14.5086) -> (-9, 14.5086) construction
  circle A2 centre (-9, 19.0086) radius 6
  line L33 (-9, 0) -> (-9, 25) construction
  line L34 (-18, 19.0086) -> (-16, 19.0086) construction
  line L35 (-18, 19.0086) -> (-16, 19.0086) construction
  line L36 (-18, 0) -> (-18, 21) construction
  line L37 (-18, 0) -> (-18, 14.5086) construction
  line L38 (-9, 6.2543) -> (-2, 0)
  line L39 (-2, 12.5086) -> (-7.8808, 7.2543)
  line L40 (-2, 2) -> (-2, 12.5086)
  line L41 (-2, 14.5086) -> (-9, 14.5086)
  line L42 (-9, 8.2543) -> (-2, 14.5086)
  line L43 (-2, 2) -> (-7.8808, 7.2543)
  line L44 (-5.0314, 14.5086) -> (0, 14.5086) construction
  line L45 (-18, 0) -> (-18, -1.7869) construction
  line L46 (-18, 0) -> (-18, -1.7869) construction
  point P0 (-9, -6)
  point P1 (9, -25)
  point P2 (-9, -0.0086)
  point P3 (-9, 6)
  point P4 (-9, 0.0086)
extrude "押し出し14" cut sketch "スケッチ14" against normal blind 3 contours A1
fillet "フィレット1" radius 2 6 edges at (-9, -21, 18.9) (9, -21, 18.9) (-9, -21, -18.9) (9, -21, -18.9) (18.9, 27, 9) (-18.9, 27, 9)
fillet "フィレット2" radius 3 4 edges at (0, 6, 20.9) (0, 6, -20.9) (20.9, 0, 0) (-20.9, 0, 0)
properties part number "ServoArm"
